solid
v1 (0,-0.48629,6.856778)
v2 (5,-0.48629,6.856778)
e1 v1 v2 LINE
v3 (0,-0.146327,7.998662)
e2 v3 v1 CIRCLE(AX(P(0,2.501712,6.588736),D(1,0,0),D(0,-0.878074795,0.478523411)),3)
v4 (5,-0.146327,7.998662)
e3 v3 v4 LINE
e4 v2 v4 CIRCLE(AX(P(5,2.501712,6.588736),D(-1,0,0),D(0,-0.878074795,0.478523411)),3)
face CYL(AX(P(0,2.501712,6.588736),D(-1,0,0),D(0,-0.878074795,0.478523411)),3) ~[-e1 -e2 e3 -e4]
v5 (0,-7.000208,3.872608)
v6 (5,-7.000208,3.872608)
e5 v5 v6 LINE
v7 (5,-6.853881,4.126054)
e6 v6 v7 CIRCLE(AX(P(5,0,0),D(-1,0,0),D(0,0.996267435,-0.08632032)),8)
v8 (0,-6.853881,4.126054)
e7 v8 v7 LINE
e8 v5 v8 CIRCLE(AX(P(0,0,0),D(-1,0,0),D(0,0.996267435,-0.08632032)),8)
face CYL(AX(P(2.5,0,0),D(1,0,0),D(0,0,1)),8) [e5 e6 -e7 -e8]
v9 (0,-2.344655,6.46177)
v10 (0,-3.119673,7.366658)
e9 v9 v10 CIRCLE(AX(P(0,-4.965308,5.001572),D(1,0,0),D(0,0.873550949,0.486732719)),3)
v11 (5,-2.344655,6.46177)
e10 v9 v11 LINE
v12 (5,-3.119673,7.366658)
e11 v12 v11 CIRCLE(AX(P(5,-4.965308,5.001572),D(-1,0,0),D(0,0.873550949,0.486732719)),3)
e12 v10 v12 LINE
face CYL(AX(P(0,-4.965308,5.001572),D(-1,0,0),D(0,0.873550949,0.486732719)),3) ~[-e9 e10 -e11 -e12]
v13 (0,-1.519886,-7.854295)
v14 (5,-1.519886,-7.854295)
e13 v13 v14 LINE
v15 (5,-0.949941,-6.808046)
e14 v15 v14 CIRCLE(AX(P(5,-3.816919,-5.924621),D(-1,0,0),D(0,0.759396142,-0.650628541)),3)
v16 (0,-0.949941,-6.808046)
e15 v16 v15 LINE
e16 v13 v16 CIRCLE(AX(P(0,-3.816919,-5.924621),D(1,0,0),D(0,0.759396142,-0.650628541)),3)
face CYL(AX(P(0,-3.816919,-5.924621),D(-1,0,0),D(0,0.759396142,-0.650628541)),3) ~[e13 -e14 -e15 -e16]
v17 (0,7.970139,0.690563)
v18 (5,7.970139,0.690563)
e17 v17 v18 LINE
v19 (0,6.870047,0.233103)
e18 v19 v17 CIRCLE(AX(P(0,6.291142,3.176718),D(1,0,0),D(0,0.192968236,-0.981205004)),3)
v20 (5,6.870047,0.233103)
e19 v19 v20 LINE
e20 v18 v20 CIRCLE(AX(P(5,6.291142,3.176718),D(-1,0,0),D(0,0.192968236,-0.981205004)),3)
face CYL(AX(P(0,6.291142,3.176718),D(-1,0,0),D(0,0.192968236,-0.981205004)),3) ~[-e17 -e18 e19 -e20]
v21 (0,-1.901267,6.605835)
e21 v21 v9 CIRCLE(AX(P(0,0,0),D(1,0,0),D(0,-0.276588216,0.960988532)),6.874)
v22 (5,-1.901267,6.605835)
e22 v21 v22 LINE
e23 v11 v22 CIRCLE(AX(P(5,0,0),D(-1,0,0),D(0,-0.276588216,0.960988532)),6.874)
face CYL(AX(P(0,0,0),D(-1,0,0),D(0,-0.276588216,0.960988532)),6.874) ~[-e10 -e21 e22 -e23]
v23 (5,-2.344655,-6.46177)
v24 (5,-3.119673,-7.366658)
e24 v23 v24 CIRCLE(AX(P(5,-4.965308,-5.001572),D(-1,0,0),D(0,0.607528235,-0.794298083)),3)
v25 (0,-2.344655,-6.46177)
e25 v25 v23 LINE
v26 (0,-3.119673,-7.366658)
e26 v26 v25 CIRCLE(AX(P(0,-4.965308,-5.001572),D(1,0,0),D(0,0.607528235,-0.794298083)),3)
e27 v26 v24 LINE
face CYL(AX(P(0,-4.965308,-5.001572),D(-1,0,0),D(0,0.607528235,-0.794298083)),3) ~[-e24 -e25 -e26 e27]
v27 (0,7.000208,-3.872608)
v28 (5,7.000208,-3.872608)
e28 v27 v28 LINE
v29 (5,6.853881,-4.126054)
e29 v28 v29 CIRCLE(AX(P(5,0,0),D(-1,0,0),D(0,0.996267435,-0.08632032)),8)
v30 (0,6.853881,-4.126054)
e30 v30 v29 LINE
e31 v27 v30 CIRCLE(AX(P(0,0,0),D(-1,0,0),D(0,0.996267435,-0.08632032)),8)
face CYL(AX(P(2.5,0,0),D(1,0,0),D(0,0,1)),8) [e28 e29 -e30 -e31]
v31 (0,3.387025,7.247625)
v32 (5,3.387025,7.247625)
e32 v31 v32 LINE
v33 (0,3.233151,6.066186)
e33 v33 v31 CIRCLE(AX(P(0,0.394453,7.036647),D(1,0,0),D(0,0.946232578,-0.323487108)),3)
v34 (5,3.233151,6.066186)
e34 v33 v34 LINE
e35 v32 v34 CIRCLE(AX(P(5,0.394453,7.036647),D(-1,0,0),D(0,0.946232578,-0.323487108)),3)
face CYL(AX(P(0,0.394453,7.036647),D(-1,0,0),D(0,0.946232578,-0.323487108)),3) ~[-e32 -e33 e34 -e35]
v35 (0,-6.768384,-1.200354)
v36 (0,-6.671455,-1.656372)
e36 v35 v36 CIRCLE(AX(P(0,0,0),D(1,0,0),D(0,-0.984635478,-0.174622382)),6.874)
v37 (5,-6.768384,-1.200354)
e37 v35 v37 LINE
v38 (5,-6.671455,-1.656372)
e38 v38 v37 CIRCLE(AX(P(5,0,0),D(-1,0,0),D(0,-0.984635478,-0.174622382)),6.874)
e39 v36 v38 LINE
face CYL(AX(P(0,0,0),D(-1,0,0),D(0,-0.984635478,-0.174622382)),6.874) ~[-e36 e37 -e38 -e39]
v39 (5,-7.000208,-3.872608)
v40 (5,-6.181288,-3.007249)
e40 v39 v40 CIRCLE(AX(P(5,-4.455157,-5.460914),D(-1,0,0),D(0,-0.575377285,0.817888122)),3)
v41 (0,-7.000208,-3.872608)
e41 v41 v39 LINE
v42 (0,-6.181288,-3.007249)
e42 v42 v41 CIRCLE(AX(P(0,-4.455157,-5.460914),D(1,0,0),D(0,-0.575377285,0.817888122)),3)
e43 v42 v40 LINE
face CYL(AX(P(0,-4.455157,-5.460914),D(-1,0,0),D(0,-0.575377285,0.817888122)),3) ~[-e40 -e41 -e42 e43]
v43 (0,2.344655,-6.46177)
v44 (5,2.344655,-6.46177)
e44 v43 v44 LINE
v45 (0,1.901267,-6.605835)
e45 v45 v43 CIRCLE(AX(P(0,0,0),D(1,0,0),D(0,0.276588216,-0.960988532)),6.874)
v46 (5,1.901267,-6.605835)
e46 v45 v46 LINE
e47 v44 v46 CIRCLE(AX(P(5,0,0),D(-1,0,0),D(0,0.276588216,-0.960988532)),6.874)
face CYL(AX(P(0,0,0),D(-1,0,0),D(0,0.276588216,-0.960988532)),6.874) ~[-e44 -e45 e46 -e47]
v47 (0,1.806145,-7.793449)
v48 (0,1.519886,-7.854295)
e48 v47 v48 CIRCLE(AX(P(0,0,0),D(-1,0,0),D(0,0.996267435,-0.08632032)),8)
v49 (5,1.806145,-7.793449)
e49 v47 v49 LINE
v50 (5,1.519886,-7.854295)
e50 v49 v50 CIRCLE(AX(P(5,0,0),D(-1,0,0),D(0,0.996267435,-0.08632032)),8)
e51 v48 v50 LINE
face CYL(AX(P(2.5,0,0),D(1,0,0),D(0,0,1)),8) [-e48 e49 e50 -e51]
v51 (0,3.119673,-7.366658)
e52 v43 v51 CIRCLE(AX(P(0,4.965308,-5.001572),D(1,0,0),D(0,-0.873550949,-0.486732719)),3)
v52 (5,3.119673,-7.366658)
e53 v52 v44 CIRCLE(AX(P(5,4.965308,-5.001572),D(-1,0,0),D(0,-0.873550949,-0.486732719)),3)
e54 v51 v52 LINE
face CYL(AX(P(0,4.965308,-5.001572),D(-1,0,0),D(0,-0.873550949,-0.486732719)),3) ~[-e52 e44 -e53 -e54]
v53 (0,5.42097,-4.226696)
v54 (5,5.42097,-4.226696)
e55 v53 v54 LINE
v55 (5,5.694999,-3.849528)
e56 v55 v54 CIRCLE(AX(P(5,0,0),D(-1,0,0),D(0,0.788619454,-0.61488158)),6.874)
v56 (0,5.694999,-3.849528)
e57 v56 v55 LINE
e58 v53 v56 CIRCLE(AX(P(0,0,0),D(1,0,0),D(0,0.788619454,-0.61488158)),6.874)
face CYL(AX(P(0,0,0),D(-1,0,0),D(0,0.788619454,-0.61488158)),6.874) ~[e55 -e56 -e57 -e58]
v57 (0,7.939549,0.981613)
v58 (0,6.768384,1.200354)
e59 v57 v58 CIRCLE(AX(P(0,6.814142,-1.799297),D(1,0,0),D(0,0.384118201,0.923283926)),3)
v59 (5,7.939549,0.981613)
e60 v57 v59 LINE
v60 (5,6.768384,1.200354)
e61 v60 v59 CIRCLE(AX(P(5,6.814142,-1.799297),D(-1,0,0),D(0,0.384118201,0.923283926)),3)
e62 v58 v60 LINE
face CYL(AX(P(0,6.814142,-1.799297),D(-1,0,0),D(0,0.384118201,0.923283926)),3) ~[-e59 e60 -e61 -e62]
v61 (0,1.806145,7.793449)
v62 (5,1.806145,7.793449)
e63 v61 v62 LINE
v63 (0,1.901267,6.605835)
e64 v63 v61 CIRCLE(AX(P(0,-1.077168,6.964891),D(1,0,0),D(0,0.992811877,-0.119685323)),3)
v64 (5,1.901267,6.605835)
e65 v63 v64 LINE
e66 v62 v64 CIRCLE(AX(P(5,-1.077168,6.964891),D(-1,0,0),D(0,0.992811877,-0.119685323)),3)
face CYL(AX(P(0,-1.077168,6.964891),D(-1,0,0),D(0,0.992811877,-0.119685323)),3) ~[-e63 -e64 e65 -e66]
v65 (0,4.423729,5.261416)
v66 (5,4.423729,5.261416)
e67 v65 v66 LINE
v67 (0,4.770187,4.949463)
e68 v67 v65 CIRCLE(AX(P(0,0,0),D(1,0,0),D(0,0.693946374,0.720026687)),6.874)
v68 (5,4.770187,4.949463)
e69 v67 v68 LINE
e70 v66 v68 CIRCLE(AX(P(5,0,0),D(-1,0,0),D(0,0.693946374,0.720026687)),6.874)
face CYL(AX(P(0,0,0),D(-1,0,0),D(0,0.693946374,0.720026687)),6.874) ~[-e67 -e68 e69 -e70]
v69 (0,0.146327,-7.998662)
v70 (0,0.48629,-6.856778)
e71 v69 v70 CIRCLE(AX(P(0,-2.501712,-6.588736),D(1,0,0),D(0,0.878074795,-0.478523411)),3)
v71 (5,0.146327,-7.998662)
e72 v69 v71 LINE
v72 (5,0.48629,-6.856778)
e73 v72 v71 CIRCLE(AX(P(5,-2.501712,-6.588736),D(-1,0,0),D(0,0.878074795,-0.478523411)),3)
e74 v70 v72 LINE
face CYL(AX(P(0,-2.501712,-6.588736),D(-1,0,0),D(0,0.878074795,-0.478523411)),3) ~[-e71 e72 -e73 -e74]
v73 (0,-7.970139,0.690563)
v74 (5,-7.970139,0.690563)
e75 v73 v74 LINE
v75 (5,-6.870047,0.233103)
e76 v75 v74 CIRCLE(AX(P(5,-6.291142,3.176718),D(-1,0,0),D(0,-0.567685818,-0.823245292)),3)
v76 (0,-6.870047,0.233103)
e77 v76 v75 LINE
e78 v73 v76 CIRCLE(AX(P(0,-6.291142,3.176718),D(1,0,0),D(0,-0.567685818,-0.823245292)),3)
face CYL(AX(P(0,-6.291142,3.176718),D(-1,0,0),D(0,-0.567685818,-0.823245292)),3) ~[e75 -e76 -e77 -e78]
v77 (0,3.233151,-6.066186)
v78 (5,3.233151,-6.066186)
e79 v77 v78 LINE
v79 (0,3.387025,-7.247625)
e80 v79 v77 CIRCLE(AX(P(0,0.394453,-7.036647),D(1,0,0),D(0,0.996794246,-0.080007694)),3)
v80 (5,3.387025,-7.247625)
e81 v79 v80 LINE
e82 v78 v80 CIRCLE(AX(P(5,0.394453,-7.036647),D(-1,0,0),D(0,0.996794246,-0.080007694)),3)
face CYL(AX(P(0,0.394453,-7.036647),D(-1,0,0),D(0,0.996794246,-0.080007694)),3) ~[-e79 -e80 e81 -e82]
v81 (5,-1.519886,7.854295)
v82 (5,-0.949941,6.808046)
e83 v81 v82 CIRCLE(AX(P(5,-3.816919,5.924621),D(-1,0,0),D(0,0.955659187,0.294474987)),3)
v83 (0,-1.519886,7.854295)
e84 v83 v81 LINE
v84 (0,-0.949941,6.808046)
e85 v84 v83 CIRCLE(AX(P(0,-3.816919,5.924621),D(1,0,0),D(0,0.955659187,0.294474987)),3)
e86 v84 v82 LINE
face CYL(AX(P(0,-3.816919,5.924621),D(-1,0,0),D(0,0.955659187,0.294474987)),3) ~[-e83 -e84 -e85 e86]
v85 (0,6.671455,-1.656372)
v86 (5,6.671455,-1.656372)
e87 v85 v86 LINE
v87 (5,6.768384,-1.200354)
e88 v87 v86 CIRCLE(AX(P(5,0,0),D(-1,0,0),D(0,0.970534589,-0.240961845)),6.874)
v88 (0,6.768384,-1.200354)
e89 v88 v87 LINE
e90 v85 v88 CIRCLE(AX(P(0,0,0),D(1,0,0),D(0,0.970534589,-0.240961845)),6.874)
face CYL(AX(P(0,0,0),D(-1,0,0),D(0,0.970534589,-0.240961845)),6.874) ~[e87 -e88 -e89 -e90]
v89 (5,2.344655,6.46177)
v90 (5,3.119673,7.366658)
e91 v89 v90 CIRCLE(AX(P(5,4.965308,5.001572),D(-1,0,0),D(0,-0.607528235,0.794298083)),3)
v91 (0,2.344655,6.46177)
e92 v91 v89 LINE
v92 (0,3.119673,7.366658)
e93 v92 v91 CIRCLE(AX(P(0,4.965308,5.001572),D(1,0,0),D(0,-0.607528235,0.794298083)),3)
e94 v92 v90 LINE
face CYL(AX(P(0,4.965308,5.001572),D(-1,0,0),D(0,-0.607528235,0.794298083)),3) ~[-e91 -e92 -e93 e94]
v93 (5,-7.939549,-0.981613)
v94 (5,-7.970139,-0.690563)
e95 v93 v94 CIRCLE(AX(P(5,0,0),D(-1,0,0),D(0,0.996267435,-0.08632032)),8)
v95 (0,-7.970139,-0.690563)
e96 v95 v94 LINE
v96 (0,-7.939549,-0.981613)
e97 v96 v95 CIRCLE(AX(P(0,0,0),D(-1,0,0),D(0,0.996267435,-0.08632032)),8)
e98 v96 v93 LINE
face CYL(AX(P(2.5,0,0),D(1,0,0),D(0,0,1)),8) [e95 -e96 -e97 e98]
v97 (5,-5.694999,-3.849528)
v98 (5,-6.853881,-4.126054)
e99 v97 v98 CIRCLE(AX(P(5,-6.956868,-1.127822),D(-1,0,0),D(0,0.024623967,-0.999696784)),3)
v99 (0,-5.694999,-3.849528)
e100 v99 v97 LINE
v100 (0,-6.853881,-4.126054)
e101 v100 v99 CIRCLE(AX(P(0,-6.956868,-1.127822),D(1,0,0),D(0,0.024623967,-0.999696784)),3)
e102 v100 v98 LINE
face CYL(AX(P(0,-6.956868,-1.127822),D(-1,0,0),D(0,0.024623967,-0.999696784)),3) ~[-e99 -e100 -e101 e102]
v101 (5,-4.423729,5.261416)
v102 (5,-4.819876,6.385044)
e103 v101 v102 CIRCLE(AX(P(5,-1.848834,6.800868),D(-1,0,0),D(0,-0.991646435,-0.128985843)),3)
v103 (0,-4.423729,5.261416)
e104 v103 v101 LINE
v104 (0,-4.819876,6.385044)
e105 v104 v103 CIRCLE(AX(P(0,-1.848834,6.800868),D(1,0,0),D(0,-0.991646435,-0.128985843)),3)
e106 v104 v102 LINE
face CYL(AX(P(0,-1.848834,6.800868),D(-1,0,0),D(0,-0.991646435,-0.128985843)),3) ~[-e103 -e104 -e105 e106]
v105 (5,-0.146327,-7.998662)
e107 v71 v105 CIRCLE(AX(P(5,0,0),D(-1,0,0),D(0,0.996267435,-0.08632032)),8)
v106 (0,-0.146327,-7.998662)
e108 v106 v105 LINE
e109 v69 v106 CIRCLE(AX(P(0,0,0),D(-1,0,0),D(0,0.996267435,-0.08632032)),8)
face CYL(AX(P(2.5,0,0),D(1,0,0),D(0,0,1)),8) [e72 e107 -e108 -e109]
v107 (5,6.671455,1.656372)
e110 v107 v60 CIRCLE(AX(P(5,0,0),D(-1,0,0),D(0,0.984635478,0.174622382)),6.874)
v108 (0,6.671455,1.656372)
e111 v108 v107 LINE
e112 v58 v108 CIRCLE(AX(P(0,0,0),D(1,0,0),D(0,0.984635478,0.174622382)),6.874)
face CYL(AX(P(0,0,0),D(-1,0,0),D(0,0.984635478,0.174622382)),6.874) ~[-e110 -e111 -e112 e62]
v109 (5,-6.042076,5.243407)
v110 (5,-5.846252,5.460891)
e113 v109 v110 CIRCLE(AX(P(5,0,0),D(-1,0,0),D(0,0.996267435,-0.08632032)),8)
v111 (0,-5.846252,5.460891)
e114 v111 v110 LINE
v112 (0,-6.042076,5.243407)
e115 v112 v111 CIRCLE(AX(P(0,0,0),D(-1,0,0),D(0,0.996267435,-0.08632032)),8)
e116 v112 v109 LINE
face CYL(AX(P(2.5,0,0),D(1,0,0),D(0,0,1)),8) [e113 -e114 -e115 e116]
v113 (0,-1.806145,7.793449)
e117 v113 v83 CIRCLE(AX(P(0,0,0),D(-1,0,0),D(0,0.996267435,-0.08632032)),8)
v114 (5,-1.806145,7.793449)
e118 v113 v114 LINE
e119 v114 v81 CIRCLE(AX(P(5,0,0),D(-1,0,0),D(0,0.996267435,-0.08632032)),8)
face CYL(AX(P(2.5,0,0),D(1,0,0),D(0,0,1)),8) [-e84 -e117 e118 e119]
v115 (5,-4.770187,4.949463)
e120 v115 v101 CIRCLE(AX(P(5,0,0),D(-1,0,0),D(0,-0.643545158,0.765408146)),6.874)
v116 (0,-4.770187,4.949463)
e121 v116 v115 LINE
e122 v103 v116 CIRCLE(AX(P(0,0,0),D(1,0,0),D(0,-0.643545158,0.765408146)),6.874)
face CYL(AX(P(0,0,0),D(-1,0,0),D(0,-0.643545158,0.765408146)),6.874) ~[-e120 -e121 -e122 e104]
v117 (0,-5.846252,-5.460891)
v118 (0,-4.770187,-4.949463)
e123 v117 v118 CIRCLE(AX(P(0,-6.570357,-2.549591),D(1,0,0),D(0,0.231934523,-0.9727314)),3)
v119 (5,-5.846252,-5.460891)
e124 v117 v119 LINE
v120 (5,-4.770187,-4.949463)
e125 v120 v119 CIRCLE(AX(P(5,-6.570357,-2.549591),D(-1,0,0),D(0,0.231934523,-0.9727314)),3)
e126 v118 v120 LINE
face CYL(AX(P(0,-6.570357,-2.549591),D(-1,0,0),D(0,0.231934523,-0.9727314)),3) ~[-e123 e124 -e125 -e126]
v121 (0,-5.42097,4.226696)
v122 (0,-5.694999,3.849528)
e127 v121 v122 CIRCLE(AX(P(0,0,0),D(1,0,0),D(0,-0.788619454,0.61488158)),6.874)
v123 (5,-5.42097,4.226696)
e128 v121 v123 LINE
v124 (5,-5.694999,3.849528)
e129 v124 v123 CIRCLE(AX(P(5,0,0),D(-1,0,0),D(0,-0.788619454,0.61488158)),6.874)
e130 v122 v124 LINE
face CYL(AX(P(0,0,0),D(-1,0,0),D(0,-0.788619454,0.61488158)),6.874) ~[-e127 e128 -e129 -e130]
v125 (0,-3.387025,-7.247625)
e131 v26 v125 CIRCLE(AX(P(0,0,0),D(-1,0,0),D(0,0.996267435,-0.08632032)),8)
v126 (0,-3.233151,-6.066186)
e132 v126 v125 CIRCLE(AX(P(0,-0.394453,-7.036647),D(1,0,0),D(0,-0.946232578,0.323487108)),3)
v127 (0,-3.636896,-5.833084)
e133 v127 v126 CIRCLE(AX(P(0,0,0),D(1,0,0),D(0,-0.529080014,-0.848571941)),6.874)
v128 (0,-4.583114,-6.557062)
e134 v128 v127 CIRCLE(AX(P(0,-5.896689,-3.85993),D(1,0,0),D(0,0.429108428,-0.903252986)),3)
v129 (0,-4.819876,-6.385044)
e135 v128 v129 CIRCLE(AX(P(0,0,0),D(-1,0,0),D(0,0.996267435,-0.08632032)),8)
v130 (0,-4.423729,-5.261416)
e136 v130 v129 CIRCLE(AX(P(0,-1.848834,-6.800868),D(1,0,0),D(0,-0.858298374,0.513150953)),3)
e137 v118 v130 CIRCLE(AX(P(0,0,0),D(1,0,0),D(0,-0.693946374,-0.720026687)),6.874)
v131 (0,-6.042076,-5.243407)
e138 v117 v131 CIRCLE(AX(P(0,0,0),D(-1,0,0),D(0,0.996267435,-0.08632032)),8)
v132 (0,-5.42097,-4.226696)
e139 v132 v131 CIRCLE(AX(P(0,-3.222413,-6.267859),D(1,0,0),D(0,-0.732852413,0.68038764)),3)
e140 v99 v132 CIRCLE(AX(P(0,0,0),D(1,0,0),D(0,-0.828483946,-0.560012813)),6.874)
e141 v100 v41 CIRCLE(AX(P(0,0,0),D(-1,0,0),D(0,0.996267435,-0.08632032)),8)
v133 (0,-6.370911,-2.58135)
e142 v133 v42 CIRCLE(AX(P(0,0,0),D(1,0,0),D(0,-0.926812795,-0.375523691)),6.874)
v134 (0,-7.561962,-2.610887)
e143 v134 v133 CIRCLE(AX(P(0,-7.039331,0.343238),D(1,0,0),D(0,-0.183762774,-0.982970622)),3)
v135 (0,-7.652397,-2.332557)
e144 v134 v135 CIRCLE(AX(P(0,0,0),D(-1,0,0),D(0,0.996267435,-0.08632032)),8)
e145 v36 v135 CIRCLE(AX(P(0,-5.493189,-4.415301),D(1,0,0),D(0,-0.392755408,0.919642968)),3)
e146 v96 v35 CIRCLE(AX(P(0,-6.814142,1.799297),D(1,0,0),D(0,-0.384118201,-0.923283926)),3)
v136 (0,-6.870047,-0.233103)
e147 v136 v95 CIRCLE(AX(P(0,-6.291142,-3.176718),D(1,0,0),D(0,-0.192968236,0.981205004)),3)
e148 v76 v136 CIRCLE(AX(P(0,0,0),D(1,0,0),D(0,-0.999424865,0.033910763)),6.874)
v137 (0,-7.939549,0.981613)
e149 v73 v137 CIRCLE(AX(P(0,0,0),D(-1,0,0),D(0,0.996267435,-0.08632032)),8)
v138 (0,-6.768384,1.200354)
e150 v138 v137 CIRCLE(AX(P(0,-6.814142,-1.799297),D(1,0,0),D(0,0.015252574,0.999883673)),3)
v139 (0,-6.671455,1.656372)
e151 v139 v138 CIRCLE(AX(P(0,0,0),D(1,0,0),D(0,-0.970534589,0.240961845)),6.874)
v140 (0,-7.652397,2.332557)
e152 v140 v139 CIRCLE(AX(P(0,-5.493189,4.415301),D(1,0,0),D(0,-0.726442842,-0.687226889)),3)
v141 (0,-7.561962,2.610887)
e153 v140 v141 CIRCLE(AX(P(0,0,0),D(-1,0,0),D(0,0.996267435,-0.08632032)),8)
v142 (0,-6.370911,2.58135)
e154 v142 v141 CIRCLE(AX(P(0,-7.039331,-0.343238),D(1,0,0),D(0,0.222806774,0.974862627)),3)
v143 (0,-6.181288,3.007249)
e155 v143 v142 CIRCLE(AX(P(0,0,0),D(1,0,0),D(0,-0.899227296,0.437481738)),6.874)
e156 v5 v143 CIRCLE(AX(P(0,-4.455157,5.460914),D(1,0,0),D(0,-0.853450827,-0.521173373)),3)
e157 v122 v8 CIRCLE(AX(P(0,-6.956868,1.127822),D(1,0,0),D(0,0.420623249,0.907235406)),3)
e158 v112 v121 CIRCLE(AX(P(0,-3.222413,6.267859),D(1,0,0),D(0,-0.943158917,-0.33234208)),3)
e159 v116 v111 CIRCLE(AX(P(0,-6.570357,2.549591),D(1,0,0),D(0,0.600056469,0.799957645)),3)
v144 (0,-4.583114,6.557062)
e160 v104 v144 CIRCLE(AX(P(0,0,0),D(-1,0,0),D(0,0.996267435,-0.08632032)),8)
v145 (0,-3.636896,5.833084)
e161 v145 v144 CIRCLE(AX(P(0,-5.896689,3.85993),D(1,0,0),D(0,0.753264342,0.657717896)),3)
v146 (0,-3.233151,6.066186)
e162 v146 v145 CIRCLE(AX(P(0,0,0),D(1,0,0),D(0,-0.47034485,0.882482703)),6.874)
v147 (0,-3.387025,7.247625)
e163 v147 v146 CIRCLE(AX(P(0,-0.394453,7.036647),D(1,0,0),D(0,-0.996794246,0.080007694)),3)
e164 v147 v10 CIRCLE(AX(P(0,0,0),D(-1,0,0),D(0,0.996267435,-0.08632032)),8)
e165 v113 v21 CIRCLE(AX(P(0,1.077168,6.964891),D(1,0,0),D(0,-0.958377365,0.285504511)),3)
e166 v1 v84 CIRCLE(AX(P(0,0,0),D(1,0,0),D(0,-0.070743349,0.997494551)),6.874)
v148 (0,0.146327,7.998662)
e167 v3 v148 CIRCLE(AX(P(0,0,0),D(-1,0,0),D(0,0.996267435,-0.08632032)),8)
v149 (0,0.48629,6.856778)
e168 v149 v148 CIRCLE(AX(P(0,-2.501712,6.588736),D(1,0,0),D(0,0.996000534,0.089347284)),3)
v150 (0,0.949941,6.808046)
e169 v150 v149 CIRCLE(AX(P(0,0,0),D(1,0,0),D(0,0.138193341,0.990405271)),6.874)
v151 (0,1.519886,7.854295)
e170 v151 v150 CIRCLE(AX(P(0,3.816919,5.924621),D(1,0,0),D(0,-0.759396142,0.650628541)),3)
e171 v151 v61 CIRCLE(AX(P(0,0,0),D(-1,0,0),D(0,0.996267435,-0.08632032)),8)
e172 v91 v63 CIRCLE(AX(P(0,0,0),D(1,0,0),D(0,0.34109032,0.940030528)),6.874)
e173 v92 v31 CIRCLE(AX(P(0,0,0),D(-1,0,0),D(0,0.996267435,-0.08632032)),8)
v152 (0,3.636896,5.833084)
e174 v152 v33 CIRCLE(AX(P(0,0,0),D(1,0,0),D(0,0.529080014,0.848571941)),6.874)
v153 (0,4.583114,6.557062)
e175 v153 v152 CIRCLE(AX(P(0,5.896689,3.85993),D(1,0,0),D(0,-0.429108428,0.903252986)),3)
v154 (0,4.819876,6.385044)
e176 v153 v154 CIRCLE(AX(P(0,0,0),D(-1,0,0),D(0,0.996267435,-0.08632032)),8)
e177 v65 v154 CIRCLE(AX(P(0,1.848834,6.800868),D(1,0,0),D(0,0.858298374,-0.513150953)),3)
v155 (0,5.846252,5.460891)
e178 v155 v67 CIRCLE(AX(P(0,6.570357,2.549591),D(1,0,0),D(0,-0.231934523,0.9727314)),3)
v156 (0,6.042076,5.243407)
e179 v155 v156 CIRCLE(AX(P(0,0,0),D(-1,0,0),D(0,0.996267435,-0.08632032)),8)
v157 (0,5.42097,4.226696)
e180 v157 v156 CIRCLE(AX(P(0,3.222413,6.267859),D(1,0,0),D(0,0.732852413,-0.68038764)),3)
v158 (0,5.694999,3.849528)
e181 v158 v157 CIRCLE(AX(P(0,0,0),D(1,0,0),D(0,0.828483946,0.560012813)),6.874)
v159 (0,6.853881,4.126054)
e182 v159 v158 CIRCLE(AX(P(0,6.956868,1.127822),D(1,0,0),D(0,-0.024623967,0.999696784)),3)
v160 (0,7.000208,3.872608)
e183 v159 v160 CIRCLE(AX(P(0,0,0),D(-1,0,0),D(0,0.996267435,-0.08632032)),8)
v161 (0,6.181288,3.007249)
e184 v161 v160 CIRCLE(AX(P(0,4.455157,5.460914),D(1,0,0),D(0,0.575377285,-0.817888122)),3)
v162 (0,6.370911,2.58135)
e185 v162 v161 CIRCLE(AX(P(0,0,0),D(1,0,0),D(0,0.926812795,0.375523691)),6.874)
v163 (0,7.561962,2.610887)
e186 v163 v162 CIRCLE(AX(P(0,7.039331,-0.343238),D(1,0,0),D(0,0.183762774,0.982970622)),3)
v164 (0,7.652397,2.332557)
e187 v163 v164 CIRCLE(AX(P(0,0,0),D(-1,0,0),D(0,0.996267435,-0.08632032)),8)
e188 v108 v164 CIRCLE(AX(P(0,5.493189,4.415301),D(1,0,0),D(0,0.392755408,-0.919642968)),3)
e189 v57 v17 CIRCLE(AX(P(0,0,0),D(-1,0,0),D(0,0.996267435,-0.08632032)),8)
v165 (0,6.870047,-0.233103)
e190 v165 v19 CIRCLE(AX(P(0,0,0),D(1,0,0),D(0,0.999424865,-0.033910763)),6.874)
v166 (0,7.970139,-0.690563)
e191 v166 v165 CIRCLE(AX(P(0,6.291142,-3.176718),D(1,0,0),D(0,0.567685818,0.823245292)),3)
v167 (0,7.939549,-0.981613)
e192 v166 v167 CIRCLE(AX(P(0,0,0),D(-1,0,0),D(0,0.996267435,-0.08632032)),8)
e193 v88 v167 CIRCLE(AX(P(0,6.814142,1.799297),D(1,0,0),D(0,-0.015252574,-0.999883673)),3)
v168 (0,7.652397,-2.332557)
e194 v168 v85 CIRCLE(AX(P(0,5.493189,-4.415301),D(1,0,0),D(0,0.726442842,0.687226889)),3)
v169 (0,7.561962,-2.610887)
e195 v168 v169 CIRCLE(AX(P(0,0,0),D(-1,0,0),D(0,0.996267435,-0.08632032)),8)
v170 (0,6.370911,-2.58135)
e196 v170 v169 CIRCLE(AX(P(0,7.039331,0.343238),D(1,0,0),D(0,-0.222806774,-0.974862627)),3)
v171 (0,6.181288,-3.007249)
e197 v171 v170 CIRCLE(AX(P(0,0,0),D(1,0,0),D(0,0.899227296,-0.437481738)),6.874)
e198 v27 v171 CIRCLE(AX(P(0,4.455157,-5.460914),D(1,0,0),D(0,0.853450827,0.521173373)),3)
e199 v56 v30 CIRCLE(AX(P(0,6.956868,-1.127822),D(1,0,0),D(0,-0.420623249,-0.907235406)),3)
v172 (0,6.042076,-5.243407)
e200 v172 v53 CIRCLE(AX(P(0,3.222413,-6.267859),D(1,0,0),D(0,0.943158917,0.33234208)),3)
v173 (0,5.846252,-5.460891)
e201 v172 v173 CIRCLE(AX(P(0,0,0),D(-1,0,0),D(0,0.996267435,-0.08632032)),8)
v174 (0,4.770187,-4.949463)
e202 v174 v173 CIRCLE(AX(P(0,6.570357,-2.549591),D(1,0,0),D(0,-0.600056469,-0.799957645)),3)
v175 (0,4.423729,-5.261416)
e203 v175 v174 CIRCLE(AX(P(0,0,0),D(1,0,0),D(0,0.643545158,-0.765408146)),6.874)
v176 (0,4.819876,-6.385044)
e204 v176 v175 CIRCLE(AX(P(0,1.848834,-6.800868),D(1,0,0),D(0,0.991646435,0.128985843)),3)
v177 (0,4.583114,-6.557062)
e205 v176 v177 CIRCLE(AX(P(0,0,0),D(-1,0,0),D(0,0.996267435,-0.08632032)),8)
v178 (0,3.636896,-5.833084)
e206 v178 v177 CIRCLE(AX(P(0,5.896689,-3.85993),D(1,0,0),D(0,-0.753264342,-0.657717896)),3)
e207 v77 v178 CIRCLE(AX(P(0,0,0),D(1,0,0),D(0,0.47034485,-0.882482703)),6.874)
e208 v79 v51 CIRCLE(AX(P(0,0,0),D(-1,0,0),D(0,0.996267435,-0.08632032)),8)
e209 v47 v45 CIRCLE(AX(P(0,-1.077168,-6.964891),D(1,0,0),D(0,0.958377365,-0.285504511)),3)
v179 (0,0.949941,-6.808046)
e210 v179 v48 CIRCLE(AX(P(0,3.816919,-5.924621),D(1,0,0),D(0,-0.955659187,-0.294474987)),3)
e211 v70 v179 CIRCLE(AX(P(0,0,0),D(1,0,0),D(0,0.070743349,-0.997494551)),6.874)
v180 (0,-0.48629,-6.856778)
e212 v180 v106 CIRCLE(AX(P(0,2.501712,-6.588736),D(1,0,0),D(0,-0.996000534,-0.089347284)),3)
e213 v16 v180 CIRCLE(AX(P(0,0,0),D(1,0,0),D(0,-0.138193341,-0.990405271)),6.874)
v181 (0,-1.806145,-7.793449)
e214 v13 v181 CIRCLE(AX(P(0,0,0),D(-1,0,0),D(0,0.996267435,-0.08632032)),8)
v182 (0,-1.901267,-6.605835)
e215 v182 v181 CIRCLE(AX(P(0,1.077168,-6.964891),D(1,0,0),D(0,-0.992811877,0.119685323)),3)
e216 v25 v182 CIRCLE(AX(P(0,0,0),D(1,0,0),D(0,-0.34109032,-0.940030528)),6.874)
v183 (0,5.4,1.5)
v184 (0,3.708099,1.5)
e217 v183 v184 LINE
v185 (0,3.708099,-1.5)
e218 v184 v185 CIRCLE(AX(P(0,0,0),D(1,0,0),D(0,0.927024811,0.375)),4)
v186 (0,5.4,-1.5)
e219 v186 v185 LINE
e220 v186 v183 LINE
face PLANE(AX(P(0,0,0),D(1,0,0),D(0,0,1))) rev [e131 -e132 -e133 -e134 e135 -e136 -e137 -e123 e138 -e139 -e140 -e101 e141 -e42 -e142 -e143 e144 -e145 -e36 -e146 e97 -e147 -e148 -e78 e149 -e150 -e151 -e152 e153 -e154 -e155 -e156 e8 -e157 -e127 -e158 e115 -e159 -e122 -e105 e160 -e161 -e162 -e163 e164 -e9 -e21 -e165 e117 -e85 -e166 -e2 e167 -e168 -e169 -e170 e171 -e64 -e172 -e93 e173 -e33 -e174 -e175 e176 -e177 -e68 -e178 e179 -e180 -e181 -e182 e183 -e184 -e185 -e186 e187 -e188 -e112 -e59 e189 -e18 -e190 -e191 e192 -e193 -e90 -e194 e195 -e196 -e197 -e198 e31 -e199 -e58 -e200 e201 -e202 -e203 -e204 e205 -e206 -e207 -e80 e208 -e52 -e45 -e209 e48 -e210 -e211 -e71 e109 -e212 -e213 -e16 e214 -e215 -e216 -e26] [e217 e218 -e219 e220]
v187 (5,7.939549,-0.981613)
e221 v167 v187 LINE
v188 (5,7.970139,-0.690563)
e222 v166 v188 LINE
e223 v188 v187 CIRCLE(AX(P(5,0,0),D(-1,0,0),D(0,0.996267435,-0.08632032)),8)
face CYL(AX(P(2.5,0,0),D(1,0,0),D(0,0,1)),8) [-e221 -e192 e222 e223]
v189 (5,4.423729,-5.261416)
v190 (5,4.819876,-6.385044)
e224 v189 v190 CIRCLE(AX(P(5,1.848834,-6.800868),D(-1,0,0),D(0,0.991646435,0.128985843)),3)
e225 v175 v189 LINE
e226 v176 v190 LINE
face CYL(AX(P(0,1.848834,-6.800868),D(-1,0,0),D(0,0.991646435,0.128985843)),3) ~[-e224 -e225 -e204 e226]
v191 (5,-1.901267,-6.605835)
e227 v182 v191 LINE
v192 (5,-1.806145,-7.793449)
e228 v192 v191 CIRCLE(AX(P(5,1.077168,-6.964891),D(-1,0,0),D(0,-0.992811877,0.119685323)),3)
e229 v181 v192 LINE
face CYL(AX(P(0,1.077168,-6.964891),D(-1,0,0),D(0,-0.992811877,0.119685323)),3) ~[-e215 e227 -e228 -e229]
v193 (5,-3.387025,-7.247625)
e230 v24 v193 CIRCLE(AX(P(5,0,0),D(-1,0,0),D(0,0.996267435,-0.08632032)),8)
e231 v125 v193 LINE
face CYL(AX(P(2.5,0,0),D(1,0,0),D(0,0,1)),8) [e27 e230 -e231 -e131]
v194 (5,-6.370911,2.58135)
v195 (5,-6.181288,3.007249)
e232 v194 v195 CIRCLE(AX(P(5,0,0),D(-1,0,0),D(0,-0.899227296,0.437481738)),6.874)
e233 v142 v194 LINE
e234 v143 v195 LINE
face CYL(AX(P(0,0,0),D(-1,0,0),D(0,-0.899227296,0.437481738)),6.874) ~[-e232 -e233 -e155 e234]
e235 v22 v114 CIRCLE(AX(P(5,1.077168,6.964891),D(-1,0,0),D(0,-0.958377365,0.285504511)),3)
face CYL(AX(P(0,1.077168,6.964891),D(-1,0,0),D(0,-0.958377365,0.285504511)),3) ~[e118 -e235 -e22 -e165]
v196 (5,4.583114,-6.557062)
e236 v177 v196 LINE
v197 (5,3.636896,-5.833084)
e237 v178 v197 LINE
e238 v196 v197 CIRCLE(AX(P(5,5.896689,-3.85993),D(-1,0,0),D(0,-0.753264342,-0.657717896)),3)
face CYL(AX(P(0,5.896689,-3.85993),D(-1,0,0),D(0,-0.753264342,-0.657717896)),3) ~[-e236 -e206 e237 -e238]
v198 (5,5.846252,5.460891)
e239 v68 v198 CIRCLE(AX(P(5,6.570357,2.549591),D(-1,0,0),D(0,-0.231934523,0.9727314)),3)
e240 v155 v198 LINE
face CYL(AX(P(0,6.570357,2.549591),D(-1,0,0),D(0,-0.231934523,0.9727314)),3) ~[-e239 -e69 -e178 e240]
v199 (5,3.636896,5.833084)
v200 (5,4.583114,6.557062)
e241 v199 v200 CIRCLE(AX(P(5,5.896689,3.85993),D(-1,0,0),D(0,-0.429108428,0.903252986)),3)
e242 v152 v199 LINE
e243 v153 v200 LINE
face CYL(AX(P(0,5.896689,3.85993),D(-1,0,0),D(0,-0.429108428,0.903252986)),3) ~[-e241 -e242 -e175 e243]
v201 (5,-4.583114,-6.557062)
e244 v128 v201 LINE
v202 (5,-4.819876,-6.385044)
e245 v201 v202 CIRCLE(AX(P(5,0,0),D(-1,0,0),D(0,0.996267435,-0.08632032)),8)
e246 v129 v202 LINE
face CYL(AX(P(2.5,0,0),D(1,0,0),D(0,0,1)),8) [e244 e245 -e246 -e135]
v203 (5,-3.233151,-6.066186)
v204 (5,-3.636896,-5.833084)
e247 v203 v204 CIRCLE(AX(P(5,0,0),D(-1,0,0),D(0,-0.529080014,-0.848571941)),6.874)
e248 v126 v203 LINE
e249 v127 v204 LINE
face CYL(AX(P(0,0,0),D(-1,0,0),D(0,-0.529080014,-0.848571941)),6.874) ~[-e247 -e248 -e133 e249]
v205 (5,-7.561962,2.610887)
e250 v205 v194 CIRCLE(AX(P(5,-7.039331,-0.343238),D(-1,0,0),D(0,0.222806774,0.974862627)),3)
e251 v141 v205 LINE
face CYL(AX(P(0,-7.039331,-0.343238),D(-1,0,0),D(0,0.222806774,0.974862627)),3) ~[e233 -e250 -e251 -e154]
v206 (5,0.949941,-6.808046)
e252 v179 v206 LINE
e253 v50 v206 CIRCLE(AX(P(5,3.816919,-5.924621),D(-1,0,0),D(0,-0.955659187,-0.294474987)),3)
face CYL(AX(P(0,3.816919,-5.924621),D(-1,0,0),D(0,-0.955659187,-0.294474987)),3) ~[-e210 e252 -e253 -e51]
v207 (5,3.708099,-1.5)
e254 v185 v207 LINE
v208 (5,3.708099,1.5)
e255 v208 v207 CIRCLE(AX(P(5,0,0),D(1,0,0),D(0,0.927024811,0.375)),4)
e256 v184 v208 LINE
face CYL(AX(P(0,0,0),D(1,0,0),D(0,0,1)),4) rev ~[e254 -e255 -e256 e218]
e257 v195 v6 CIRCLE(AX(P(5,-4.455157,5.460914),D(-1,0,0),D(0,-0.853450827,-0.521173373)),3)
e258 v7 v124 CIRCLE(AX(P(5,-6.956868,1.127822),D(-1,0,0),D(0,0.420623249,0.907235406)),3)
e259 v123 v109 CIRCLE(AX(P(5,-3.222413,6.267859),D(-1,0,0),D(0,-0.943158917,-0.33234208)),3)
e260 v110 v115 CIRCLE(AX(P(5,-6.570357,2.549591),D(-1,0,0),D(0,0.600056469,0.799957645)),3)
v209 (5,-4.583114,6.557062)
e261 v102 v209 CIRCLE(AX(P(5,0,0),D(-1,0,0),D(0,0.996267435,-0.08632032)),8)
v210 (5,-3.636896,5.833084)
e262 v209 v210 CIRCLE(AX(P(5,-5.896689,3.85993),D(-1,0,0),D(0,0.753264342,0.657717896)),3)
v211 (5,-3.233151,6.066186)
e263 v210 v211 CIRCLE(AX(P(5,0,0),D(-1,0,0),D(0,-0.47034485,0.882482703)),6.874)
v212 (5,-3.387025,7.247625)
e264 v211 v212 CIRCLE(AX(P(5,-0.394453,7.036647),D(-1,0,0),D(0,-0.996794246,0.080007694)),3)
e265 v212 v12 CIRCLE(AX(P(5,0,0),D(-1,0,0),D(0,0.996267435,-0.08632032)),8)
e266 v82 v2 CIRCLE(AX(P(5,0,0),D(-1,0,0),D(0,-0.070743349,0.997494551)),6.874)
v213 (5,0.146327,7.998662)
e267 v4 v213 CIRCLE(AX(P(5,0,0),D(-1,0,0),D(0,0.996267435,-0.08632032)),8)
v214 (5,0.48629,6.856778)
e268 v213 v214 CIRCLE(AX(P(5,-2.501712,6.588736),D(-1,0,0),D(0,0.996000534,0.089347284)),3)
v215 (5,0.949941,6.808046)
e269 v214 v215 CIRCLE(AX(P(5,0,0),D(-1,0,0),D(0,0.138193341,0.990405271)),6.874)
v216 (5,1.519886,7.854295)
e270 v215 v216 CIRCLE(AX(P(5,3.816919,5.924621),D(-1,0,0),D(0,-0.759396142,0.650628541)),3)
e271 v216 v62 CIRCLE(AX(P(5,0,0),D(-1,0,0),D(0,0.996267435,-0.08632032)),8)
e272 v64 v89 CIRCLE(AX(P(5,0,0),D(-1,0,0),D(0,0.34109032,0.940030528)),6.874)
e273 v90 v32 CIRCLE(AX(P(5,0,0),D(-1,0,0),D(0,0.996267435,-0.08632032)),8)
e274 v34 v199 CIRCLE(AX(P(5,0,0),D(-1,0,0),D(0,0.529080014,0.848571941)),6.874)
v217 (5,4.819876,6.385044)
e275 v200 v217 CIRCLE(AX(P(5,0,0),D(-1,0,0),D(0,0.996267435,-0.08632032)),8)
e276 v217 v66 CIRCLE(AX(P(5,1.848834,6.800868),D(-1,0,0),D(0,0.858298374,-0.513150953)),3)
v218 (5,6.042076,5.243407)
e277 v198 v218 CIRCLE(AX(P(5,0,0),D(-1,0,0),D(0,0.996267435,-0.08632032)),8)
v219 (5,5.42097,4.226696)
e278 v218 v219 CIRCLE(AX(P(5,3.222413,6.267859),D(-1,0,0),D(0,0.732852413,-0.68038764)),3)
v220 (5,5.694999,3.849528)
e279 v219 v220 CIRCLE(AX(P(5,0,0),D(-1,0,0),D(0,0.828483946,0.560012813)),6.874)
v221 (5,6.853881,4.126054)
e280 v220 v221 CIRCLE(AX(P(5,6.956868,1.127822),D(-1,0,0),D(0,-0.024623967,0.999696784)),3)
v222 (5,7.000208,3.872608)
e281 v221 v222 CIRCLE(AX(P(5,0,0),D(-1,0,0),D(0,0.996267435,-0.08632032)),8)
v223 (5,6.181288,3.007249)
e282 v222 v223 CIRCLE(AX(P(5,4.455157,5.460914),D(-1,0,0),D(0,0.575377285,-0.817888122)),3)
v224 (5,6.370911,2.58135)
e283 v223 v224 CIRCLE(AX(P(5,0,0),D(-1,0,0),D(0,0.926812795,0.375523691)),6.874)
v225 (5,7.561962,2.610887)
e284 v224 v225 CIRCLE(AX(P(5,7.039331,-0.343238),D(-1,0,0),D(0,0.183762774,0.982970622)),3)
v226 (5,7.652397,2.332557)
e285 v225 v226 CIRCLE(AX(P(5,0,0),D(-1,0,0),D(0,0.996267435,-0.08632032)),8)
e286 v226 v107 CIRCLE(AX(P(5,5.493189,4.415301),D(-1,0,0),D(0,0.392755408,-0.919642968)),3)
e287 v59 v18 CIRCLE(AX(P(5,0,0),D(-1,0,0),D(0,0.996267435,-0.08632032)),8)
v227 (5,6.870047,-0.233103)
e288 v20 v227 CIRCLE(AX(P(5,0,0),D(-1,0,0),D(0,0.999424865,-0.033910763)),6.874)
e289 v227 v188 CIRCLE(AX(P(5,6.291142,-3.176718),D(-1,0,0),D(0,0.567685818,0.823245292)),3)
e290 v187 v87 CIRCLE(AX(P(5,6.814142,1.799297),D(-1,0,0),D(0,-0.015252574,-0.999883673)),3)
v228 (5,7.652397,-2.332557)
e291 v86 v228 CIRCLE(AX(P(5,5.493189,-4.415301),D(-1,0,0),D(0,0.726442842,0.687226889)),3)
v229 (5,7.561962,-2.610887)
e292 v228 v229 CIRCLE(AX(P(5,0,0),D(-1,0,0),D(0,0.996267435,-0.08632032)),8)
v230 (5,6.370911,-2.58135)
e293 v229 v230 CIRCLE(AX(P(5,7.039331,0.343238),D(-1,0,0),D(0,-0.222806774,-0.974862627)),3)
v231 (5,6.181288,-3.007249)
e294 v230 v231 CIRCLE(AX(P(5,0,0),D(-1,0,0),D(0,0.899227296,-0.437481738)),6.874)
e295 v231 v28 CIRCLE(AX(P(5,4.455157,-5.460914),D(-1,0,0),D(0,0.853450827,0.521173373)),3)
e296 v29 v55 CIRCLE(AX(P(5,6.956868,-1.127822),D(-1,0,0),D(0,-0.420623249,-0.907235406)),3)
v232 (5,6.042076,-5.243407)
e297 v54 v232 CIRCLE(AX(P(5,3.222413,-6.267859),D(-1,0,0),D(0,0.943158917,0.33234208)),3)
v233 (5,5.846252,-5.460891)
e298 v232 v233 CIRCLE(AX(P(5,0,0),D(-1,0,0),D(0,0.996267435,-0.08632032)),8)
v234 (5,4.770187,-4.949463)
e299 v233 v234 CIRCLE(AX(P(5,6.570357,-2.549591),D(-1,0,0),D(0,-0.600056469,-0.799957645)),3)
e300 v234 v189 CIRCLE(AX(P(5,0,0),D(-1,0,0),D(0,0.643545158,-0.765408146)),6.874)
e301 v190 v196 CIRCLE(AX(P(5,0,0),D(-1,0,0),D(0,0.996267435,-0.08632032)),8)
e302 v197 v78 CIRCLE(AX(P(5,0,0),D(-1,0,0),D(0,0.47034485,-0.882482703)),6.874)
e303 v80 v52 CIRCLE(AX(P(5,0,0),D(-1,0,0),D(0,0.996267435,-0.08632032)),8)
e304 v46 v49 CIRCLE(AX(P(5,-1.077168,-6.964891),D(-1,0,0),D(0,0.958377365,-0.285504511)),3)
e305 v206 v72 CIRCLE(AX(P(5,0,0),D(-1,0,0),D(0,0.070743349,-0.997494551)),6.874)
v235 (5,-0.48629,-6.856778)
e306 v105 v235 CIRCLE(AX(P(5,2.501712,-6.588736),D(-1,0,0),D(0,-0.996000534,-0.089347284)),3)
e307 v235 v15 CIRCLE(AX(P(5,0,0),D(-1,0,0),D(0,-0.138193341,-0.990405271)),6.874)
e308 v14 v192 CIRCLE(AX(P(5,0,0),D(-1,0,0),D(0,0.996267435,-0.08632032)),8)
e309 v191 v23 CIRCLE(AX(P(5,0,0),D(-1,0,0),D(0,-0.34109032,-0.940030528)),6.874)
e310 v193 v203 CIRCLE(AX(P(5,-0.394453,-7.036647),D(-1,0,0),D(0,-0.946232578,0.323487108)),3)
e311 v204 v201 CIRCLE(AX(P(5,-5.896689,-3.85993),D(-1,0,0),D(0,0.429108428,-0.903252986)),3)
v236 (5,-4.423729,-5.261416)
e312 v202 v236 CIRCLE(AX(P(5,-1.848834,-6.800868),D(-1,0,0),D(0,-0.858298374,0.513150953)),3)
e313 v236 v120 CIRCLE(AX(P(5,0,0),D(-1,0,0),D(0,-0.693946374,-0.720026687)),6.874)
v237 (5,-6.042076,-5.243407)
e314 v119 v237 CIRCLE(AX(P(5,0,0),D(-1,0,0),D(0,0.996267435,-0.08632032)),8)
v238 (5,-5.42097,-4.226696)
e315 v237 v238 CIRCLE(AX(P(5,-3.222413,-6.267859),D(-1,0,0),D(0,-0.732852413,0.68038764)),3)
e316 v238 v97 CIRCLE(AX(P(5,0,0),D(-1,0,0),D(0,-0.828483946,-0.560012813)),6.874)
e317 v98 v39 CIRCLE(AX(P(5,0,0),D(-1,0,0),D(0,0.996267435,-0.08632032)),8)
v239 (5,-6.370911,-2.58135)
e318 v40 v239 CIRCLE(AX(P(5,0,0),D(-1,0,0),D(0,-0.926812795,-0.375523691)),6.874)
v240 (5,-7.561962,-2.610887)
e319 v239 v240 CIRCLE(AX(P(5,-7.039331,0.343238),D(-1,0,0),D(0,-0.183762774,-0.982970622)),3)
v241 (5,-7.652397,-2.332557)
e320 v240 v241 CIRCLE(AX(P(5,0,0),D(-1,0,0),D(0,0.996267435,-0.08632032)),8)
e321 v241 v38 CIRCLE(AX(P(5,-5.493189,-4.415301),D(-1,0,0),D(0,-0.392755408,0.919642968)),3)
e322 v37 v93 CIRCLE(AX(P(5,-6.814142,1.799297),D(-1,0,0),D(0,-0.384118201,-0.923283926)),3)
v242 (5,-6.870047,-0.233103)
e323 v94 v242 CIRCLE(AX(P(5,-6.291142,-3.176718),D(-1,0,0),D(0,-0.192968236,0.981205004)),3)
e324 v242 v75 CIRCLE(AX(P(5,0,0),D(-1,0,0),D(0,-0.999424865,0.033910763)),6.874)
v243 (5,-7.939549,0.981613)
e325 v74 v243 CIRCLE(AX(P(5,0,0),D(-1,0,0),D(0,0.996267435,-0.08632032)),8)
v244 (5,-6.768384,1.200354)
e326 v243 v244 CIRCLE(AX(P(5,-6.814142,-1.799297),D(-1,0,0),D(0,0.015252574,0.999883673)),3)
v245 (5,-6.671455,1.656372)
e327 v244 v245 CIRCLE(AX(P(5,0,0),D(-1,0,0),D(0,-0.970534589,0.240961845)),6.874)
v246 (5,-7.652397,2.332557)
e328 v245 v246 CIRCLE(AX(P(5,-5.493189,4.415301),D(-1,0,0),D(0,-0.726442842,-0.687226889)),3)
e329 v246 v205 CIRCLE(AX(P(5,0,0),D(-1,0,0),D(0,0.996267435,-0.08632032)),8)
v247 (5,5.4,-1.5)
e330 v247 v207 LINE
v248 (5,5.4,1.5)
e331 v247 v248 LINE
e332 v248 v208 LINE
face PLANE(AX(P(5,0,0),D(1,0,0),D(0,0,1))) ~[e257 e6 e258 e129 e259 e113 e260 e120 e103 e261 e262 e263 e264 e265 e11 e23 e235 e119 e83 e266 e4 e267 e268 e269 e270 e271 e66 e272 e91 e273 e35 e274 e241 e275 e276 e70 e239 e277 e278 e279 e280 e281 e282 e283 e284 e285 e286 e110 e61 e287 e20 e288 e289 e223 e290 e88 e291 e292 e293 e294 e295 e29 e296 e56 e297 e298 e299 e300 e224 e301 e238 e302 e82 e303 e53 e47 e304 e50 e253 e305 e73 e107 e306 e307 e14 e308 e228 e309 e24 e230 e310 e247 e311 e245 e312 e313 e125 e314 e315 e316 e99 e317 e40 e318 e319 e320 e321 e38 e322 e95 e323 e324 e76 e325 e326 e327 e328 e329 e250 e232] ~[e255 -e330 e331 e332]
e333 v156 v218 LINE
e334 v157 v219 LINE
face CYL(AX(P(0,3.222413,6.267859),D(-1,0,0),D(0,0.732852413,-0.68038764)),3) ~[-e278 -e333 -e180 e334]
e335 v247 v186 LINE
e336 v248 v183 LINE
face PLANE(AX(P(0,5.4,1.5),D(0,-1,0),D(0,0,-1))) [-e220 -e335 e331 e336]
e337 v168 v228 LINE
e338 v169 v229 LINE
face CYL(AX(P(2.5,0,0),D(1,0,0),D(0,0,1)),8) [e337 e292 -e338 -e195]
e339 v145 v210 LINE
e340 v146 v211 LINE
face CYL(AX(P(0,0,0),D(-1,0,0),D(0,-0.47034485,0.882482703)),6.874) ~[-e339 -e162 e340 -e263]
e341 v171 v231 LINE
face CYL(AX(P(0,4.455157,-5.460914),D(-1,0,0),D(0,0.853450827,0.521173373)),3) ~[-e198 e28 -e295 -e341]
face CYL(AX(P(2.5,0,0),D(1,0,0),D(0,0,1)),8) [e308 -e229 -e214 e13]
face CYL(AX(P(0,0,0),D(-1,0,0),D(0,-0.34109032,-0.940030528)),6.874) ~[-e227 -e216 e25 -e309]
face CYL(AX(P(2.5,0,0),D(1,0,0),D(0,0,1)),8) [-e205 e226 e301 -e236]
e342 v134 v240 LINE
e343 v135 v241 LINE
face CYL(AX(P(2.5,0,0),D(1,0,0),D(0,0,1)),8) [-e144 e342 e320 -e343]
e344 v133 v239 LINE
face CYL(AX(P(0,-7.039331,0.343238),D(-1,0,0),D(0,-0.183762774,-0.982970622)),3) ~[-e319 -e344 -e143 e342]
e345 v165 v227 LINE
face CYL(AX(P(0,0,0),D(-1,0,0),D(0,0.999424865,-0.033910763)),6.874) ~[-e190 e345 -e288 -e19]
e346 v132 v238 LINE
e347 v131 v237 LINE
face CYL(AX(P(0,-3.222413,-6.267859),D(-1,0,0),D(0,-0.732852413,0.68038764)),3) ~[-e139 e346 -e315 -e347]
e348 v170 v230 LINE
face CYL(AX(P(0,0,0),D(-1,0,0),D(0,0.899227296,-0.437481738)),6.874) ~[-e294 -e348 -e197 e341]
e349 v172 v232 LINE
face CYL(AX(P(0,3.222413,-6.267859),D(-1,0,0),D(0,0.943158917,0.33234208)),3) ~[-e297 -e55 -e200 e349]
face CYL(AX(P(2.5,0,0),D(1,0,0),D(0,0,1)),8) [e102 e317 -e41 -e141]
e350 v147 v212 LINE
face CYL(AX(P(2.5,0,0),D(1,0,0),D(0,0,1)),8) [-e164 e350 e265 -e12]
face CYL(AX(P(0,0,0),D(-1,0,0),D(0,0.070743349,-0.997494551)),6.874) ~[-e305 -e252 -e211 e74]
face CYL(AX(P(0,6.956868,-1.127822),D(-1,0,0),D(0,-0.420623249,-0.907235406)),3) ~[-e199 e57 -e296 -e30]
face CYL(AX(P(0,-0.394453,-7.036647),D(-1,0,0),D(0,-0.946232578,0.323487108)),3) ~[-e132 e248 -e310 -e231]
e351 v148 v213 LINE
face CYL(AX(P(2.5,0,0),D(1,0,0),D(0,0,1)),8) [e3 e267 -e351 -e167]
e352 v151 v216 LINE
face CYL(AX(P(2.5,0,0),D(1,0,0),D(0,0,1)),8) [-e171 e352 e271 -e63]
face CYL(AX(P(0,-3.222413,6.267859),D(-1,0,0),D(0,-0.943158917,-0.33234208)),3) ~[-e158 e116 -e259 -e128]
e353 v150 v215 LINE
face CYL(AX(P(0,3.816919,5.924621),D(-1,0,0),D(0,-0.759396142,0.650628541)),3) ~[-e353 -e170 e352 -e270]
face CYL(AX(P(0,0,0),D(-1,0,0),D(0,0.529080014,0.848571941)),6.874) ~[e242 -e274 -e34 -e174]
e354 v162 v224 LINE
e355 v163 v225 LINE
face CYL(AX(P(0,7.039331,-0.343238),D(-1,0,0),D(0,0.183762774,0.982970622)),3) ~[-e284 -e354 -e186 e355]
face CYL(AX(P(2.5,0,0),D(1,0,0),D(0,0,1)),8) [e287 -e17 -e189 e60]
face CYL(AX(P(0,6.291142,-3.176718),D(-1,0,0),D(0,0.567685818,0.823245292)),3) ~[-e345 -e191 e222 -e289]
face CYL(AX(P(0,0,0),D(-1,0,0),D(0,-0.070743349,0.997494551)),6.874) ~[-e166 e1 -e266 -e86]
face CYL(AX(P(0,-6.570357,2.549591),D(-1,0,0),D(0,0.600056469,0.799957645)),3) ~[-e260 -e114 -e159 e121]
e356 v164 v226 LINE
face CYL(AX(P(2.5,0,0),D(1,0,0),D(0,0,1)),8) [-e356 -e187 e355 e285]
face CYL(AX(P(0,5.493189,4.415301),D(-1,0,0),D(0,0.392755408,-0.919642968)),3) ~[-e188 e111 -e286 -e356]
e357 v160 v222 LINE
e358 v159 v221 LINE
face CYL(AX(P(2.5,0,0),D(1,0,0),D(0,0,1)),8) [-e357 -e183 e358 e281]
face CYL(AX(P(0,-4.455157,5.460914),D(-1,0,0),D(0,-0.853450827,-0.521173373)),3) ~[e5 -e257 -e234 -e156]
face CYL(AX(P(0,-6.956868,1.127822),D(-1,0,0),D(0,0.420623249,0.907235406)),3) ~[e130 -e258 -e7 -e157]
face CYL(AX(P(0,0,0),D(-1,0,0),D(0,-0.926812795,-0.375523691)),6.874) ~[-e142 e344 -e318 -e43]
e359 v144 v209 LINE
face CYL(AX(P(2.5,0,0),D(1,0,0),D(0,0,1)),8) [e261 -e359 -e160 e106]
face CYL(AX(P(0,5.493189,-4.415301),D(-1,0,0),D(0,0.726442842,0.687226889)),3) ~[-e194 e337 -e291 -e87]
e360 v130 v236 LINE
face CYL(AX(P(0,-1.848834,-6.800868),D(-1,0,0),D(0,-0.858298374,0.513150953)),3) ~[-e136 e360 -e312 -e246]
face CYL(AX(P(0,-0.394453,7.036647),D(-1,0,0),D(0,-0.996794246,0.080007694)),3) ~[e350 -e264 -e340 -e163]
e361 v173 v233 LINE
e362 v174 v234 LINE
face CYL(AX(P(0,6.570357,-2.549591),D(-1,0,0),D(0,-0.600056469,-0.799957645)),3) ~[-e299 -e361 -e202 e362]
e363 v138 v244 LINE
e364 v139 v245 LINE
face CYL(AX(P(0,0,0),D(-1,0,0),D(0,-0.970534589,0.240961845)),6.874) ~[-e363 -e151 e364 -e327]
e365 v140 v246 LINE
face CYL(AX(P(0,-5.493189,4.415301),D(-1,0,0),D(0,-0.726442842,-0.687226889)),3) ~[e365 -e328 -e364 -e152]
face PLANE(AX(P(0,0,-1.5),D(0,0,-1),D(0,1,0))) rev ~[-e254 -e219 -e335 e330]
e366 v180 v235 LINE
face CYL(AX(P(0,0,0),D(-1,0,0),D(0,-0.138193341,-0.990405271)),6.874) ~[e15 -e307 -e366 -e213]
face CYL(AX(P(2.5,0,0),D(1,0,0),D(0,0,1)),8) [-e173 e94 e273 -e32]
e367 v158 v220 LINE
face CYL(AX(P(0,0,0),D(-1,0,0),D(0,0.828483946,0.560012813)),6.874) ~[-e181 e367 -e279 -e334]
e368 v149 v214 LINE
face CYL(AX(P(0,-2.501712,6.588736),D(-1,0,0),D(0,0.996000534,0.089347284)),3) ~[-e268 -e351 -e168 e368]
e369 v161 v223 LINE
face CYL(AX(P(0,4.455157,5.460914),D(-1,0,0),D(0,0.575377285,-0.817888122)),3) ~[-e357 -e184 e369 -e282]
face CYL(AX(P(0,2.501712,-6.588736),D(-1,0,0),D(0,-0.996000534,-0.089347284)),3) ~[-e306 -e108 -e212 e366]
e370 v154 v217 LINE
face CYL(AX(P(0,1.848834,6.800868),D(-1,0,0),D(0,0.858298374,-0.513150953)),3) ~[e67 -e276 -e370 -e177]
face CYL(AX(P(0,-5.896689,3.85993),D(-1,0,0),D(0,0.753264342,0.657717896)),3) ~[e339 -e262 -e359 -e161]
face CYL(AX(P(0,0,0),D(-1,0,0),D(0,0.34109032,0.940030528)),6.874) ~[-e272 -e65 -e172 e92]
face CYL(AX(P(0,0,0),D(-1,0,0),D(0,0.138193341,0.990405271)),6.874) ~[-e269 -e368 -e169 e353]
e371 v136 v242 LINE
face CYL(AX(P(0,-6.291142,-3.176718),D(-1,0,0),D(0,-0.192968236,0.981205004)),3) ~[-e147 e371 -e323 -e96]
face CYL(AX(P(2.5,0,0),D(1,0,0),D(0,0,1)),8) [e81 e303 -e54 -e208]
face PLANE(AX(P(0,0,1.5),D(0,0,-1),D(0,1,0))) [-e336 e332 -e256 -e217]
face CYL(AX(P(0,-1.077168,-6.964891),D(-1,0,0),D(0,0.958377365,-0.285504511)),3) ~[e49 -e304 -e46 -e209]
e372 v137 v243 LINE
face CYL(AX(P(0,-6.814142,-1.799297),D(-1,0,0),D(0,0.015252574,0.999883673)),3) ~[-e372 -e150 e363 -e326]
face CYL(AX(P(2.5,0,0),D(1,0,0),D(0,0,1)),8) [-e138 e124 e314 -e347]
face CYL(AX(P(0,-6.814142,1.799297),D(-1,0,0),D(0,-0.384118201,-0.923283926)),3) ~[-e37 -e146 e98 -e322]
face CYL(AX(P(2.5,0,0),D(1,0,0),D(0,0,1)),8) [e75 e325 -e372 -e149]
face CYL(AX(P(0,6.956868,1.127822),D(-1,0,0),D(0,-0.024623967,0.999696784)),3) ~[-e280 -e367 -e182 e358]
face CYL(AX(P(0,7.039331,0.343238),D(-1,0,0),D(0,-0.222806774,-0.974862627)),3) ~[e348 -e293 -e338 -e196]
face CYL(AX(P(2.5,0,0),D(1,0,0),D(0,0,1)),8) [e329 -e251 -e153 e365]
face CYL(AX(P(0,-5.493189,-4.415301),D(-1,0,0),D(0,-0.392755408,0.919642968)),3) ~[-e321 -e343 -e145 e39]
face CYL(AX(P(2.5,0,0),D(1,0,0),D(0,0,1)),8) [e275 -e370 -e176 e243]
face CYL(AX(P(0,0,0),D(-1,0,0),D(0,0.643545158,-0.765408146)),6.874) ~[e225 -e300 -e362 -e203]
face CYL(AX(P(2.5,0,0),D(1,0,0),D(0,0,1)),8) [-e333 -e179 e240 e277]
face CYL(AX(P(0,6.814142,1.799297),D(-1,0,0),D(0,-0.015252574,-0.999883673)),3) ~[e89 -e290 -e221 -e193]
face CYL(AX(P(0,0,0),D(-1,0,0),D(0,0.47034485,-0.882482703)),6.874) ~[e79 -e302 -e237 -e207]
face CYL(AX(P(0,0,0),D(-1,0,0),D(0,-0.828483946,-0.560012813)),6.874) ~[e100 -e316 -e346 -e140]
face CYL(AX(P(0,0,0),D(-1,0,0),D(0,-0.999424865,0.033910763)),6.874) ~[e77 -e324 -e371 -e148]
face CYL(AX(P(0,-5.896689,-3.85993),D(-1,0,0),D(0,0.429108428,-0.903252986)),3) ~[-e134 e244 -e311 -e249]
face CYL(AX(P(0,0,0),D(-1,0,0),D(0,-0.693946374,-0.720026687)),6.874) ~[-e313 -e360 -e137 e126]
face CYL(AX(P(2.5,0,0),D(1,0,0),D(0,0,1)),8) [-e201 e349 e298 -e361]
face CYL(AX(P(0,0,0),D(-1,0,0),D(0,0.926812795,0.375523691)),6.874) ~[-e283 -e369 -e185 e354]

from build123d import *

# Parameters (mm, degrees)
BASPROSKE_W     = 5
BASPROSKE_H     = 8
TOOTHCUT_DEPTH  = 13.369316877
TEETHCUTS_COUNT = 30
TEETHCUTS_ANGLE = 348
BORSKE_R        = 4
BORE_DEPTH      = 50.0000508
KEYSKE_W        = 3
KEYSKE_H        = 5.4
KEYWAY_DEPTH    = 50.0000508


with BuildPart() as part:
    # BasProSke → Base-Revolve (revolve)
    with BuildSketch(Plane(origin=(0, 0, 0), x_dir=(1, 0, 0), z_dir=(0, 1, 0)), mode=Mode.PRIVATE) as base_revolve_sk:
        with Locations((2.5, 4)):
            Rectangle(BASPROSKE_W, BASPROSKE_H)
    revolve(base_revolve_sk.sketch.rotate(Axis((-10, 0, 0), (1, 0, 0)), 180), axis=Axis((-10, 0, 0), (1, 0, 0)))

    # TooCutSke → ToothCut (cut, through all)
    with BuildSketch(Plane(origin=(0, 0, 0), x_dir=(0, 0, -1), z_dir=(1, 0, 0))):
        with BuildLine():
            ThreePointArc((0.233102578, 6.87004652), (0, 6.874), (-0.233102578, 6.87004652))
            ThreePointArc((-0.233102578, 6.87004652), (-0.41229689, 7.456465027), (-0.706981715, 7.994199273))
            ThreePointArc((-0.706981715, 7.994199273), (0, 8.0254), (0.706981715, 7.994199273))
            ThreePointArc((0.706981715, 7.994199273), (0.41229689, 7.456465027), (0.233102578, 6.87004652))
        make_face()
    toothcut = extrude(amount=TOOTHCUT_DEPTH, mode=Mode.SUBTRACT)

    # TeethCuts: ToothCut ×30 about axis
    teethcuts_axis = Axis((-10, 0, 0), (1, 0, 0))
    for i in range(1, TEETHCUTS_COUNT):
        add(toothcut.rotate(teethcuts_axis, i * TEETHCUTS_ANGLE / (TEETHCUTS_COUNT - 1)), mode=Mode.SUBTRACT)

    # BorSke → Bore (cut, symmetric)
    with BuildSketch(Plane(origin=(0, 0, 0), x_dir=(0, 0, -1), z_dir=(1, 0, 0))):
        with Locations(Location((0, 0, 0), (0, 0, 180))):
            Circle(BORSKE_R)
    extrude(amount=BORE_DEPTH, both=True, mode=Mode.SUBTRACT)

    # KeySke → Keyway (cut, symmetric)
    with BuildSketch(Plane(origin=(0, 0, 0), x_dir=(0, 0, -1), z_dir=(1, 0, 0))):
        with Locations((0, 2.7)):
            Rectangle(KEYSKE_W, KEYSKE_H)
    extrude(amount=KEYWAY_DEPTH, both=True, mode=Mode.SUBTRACT)


solid = part.part
